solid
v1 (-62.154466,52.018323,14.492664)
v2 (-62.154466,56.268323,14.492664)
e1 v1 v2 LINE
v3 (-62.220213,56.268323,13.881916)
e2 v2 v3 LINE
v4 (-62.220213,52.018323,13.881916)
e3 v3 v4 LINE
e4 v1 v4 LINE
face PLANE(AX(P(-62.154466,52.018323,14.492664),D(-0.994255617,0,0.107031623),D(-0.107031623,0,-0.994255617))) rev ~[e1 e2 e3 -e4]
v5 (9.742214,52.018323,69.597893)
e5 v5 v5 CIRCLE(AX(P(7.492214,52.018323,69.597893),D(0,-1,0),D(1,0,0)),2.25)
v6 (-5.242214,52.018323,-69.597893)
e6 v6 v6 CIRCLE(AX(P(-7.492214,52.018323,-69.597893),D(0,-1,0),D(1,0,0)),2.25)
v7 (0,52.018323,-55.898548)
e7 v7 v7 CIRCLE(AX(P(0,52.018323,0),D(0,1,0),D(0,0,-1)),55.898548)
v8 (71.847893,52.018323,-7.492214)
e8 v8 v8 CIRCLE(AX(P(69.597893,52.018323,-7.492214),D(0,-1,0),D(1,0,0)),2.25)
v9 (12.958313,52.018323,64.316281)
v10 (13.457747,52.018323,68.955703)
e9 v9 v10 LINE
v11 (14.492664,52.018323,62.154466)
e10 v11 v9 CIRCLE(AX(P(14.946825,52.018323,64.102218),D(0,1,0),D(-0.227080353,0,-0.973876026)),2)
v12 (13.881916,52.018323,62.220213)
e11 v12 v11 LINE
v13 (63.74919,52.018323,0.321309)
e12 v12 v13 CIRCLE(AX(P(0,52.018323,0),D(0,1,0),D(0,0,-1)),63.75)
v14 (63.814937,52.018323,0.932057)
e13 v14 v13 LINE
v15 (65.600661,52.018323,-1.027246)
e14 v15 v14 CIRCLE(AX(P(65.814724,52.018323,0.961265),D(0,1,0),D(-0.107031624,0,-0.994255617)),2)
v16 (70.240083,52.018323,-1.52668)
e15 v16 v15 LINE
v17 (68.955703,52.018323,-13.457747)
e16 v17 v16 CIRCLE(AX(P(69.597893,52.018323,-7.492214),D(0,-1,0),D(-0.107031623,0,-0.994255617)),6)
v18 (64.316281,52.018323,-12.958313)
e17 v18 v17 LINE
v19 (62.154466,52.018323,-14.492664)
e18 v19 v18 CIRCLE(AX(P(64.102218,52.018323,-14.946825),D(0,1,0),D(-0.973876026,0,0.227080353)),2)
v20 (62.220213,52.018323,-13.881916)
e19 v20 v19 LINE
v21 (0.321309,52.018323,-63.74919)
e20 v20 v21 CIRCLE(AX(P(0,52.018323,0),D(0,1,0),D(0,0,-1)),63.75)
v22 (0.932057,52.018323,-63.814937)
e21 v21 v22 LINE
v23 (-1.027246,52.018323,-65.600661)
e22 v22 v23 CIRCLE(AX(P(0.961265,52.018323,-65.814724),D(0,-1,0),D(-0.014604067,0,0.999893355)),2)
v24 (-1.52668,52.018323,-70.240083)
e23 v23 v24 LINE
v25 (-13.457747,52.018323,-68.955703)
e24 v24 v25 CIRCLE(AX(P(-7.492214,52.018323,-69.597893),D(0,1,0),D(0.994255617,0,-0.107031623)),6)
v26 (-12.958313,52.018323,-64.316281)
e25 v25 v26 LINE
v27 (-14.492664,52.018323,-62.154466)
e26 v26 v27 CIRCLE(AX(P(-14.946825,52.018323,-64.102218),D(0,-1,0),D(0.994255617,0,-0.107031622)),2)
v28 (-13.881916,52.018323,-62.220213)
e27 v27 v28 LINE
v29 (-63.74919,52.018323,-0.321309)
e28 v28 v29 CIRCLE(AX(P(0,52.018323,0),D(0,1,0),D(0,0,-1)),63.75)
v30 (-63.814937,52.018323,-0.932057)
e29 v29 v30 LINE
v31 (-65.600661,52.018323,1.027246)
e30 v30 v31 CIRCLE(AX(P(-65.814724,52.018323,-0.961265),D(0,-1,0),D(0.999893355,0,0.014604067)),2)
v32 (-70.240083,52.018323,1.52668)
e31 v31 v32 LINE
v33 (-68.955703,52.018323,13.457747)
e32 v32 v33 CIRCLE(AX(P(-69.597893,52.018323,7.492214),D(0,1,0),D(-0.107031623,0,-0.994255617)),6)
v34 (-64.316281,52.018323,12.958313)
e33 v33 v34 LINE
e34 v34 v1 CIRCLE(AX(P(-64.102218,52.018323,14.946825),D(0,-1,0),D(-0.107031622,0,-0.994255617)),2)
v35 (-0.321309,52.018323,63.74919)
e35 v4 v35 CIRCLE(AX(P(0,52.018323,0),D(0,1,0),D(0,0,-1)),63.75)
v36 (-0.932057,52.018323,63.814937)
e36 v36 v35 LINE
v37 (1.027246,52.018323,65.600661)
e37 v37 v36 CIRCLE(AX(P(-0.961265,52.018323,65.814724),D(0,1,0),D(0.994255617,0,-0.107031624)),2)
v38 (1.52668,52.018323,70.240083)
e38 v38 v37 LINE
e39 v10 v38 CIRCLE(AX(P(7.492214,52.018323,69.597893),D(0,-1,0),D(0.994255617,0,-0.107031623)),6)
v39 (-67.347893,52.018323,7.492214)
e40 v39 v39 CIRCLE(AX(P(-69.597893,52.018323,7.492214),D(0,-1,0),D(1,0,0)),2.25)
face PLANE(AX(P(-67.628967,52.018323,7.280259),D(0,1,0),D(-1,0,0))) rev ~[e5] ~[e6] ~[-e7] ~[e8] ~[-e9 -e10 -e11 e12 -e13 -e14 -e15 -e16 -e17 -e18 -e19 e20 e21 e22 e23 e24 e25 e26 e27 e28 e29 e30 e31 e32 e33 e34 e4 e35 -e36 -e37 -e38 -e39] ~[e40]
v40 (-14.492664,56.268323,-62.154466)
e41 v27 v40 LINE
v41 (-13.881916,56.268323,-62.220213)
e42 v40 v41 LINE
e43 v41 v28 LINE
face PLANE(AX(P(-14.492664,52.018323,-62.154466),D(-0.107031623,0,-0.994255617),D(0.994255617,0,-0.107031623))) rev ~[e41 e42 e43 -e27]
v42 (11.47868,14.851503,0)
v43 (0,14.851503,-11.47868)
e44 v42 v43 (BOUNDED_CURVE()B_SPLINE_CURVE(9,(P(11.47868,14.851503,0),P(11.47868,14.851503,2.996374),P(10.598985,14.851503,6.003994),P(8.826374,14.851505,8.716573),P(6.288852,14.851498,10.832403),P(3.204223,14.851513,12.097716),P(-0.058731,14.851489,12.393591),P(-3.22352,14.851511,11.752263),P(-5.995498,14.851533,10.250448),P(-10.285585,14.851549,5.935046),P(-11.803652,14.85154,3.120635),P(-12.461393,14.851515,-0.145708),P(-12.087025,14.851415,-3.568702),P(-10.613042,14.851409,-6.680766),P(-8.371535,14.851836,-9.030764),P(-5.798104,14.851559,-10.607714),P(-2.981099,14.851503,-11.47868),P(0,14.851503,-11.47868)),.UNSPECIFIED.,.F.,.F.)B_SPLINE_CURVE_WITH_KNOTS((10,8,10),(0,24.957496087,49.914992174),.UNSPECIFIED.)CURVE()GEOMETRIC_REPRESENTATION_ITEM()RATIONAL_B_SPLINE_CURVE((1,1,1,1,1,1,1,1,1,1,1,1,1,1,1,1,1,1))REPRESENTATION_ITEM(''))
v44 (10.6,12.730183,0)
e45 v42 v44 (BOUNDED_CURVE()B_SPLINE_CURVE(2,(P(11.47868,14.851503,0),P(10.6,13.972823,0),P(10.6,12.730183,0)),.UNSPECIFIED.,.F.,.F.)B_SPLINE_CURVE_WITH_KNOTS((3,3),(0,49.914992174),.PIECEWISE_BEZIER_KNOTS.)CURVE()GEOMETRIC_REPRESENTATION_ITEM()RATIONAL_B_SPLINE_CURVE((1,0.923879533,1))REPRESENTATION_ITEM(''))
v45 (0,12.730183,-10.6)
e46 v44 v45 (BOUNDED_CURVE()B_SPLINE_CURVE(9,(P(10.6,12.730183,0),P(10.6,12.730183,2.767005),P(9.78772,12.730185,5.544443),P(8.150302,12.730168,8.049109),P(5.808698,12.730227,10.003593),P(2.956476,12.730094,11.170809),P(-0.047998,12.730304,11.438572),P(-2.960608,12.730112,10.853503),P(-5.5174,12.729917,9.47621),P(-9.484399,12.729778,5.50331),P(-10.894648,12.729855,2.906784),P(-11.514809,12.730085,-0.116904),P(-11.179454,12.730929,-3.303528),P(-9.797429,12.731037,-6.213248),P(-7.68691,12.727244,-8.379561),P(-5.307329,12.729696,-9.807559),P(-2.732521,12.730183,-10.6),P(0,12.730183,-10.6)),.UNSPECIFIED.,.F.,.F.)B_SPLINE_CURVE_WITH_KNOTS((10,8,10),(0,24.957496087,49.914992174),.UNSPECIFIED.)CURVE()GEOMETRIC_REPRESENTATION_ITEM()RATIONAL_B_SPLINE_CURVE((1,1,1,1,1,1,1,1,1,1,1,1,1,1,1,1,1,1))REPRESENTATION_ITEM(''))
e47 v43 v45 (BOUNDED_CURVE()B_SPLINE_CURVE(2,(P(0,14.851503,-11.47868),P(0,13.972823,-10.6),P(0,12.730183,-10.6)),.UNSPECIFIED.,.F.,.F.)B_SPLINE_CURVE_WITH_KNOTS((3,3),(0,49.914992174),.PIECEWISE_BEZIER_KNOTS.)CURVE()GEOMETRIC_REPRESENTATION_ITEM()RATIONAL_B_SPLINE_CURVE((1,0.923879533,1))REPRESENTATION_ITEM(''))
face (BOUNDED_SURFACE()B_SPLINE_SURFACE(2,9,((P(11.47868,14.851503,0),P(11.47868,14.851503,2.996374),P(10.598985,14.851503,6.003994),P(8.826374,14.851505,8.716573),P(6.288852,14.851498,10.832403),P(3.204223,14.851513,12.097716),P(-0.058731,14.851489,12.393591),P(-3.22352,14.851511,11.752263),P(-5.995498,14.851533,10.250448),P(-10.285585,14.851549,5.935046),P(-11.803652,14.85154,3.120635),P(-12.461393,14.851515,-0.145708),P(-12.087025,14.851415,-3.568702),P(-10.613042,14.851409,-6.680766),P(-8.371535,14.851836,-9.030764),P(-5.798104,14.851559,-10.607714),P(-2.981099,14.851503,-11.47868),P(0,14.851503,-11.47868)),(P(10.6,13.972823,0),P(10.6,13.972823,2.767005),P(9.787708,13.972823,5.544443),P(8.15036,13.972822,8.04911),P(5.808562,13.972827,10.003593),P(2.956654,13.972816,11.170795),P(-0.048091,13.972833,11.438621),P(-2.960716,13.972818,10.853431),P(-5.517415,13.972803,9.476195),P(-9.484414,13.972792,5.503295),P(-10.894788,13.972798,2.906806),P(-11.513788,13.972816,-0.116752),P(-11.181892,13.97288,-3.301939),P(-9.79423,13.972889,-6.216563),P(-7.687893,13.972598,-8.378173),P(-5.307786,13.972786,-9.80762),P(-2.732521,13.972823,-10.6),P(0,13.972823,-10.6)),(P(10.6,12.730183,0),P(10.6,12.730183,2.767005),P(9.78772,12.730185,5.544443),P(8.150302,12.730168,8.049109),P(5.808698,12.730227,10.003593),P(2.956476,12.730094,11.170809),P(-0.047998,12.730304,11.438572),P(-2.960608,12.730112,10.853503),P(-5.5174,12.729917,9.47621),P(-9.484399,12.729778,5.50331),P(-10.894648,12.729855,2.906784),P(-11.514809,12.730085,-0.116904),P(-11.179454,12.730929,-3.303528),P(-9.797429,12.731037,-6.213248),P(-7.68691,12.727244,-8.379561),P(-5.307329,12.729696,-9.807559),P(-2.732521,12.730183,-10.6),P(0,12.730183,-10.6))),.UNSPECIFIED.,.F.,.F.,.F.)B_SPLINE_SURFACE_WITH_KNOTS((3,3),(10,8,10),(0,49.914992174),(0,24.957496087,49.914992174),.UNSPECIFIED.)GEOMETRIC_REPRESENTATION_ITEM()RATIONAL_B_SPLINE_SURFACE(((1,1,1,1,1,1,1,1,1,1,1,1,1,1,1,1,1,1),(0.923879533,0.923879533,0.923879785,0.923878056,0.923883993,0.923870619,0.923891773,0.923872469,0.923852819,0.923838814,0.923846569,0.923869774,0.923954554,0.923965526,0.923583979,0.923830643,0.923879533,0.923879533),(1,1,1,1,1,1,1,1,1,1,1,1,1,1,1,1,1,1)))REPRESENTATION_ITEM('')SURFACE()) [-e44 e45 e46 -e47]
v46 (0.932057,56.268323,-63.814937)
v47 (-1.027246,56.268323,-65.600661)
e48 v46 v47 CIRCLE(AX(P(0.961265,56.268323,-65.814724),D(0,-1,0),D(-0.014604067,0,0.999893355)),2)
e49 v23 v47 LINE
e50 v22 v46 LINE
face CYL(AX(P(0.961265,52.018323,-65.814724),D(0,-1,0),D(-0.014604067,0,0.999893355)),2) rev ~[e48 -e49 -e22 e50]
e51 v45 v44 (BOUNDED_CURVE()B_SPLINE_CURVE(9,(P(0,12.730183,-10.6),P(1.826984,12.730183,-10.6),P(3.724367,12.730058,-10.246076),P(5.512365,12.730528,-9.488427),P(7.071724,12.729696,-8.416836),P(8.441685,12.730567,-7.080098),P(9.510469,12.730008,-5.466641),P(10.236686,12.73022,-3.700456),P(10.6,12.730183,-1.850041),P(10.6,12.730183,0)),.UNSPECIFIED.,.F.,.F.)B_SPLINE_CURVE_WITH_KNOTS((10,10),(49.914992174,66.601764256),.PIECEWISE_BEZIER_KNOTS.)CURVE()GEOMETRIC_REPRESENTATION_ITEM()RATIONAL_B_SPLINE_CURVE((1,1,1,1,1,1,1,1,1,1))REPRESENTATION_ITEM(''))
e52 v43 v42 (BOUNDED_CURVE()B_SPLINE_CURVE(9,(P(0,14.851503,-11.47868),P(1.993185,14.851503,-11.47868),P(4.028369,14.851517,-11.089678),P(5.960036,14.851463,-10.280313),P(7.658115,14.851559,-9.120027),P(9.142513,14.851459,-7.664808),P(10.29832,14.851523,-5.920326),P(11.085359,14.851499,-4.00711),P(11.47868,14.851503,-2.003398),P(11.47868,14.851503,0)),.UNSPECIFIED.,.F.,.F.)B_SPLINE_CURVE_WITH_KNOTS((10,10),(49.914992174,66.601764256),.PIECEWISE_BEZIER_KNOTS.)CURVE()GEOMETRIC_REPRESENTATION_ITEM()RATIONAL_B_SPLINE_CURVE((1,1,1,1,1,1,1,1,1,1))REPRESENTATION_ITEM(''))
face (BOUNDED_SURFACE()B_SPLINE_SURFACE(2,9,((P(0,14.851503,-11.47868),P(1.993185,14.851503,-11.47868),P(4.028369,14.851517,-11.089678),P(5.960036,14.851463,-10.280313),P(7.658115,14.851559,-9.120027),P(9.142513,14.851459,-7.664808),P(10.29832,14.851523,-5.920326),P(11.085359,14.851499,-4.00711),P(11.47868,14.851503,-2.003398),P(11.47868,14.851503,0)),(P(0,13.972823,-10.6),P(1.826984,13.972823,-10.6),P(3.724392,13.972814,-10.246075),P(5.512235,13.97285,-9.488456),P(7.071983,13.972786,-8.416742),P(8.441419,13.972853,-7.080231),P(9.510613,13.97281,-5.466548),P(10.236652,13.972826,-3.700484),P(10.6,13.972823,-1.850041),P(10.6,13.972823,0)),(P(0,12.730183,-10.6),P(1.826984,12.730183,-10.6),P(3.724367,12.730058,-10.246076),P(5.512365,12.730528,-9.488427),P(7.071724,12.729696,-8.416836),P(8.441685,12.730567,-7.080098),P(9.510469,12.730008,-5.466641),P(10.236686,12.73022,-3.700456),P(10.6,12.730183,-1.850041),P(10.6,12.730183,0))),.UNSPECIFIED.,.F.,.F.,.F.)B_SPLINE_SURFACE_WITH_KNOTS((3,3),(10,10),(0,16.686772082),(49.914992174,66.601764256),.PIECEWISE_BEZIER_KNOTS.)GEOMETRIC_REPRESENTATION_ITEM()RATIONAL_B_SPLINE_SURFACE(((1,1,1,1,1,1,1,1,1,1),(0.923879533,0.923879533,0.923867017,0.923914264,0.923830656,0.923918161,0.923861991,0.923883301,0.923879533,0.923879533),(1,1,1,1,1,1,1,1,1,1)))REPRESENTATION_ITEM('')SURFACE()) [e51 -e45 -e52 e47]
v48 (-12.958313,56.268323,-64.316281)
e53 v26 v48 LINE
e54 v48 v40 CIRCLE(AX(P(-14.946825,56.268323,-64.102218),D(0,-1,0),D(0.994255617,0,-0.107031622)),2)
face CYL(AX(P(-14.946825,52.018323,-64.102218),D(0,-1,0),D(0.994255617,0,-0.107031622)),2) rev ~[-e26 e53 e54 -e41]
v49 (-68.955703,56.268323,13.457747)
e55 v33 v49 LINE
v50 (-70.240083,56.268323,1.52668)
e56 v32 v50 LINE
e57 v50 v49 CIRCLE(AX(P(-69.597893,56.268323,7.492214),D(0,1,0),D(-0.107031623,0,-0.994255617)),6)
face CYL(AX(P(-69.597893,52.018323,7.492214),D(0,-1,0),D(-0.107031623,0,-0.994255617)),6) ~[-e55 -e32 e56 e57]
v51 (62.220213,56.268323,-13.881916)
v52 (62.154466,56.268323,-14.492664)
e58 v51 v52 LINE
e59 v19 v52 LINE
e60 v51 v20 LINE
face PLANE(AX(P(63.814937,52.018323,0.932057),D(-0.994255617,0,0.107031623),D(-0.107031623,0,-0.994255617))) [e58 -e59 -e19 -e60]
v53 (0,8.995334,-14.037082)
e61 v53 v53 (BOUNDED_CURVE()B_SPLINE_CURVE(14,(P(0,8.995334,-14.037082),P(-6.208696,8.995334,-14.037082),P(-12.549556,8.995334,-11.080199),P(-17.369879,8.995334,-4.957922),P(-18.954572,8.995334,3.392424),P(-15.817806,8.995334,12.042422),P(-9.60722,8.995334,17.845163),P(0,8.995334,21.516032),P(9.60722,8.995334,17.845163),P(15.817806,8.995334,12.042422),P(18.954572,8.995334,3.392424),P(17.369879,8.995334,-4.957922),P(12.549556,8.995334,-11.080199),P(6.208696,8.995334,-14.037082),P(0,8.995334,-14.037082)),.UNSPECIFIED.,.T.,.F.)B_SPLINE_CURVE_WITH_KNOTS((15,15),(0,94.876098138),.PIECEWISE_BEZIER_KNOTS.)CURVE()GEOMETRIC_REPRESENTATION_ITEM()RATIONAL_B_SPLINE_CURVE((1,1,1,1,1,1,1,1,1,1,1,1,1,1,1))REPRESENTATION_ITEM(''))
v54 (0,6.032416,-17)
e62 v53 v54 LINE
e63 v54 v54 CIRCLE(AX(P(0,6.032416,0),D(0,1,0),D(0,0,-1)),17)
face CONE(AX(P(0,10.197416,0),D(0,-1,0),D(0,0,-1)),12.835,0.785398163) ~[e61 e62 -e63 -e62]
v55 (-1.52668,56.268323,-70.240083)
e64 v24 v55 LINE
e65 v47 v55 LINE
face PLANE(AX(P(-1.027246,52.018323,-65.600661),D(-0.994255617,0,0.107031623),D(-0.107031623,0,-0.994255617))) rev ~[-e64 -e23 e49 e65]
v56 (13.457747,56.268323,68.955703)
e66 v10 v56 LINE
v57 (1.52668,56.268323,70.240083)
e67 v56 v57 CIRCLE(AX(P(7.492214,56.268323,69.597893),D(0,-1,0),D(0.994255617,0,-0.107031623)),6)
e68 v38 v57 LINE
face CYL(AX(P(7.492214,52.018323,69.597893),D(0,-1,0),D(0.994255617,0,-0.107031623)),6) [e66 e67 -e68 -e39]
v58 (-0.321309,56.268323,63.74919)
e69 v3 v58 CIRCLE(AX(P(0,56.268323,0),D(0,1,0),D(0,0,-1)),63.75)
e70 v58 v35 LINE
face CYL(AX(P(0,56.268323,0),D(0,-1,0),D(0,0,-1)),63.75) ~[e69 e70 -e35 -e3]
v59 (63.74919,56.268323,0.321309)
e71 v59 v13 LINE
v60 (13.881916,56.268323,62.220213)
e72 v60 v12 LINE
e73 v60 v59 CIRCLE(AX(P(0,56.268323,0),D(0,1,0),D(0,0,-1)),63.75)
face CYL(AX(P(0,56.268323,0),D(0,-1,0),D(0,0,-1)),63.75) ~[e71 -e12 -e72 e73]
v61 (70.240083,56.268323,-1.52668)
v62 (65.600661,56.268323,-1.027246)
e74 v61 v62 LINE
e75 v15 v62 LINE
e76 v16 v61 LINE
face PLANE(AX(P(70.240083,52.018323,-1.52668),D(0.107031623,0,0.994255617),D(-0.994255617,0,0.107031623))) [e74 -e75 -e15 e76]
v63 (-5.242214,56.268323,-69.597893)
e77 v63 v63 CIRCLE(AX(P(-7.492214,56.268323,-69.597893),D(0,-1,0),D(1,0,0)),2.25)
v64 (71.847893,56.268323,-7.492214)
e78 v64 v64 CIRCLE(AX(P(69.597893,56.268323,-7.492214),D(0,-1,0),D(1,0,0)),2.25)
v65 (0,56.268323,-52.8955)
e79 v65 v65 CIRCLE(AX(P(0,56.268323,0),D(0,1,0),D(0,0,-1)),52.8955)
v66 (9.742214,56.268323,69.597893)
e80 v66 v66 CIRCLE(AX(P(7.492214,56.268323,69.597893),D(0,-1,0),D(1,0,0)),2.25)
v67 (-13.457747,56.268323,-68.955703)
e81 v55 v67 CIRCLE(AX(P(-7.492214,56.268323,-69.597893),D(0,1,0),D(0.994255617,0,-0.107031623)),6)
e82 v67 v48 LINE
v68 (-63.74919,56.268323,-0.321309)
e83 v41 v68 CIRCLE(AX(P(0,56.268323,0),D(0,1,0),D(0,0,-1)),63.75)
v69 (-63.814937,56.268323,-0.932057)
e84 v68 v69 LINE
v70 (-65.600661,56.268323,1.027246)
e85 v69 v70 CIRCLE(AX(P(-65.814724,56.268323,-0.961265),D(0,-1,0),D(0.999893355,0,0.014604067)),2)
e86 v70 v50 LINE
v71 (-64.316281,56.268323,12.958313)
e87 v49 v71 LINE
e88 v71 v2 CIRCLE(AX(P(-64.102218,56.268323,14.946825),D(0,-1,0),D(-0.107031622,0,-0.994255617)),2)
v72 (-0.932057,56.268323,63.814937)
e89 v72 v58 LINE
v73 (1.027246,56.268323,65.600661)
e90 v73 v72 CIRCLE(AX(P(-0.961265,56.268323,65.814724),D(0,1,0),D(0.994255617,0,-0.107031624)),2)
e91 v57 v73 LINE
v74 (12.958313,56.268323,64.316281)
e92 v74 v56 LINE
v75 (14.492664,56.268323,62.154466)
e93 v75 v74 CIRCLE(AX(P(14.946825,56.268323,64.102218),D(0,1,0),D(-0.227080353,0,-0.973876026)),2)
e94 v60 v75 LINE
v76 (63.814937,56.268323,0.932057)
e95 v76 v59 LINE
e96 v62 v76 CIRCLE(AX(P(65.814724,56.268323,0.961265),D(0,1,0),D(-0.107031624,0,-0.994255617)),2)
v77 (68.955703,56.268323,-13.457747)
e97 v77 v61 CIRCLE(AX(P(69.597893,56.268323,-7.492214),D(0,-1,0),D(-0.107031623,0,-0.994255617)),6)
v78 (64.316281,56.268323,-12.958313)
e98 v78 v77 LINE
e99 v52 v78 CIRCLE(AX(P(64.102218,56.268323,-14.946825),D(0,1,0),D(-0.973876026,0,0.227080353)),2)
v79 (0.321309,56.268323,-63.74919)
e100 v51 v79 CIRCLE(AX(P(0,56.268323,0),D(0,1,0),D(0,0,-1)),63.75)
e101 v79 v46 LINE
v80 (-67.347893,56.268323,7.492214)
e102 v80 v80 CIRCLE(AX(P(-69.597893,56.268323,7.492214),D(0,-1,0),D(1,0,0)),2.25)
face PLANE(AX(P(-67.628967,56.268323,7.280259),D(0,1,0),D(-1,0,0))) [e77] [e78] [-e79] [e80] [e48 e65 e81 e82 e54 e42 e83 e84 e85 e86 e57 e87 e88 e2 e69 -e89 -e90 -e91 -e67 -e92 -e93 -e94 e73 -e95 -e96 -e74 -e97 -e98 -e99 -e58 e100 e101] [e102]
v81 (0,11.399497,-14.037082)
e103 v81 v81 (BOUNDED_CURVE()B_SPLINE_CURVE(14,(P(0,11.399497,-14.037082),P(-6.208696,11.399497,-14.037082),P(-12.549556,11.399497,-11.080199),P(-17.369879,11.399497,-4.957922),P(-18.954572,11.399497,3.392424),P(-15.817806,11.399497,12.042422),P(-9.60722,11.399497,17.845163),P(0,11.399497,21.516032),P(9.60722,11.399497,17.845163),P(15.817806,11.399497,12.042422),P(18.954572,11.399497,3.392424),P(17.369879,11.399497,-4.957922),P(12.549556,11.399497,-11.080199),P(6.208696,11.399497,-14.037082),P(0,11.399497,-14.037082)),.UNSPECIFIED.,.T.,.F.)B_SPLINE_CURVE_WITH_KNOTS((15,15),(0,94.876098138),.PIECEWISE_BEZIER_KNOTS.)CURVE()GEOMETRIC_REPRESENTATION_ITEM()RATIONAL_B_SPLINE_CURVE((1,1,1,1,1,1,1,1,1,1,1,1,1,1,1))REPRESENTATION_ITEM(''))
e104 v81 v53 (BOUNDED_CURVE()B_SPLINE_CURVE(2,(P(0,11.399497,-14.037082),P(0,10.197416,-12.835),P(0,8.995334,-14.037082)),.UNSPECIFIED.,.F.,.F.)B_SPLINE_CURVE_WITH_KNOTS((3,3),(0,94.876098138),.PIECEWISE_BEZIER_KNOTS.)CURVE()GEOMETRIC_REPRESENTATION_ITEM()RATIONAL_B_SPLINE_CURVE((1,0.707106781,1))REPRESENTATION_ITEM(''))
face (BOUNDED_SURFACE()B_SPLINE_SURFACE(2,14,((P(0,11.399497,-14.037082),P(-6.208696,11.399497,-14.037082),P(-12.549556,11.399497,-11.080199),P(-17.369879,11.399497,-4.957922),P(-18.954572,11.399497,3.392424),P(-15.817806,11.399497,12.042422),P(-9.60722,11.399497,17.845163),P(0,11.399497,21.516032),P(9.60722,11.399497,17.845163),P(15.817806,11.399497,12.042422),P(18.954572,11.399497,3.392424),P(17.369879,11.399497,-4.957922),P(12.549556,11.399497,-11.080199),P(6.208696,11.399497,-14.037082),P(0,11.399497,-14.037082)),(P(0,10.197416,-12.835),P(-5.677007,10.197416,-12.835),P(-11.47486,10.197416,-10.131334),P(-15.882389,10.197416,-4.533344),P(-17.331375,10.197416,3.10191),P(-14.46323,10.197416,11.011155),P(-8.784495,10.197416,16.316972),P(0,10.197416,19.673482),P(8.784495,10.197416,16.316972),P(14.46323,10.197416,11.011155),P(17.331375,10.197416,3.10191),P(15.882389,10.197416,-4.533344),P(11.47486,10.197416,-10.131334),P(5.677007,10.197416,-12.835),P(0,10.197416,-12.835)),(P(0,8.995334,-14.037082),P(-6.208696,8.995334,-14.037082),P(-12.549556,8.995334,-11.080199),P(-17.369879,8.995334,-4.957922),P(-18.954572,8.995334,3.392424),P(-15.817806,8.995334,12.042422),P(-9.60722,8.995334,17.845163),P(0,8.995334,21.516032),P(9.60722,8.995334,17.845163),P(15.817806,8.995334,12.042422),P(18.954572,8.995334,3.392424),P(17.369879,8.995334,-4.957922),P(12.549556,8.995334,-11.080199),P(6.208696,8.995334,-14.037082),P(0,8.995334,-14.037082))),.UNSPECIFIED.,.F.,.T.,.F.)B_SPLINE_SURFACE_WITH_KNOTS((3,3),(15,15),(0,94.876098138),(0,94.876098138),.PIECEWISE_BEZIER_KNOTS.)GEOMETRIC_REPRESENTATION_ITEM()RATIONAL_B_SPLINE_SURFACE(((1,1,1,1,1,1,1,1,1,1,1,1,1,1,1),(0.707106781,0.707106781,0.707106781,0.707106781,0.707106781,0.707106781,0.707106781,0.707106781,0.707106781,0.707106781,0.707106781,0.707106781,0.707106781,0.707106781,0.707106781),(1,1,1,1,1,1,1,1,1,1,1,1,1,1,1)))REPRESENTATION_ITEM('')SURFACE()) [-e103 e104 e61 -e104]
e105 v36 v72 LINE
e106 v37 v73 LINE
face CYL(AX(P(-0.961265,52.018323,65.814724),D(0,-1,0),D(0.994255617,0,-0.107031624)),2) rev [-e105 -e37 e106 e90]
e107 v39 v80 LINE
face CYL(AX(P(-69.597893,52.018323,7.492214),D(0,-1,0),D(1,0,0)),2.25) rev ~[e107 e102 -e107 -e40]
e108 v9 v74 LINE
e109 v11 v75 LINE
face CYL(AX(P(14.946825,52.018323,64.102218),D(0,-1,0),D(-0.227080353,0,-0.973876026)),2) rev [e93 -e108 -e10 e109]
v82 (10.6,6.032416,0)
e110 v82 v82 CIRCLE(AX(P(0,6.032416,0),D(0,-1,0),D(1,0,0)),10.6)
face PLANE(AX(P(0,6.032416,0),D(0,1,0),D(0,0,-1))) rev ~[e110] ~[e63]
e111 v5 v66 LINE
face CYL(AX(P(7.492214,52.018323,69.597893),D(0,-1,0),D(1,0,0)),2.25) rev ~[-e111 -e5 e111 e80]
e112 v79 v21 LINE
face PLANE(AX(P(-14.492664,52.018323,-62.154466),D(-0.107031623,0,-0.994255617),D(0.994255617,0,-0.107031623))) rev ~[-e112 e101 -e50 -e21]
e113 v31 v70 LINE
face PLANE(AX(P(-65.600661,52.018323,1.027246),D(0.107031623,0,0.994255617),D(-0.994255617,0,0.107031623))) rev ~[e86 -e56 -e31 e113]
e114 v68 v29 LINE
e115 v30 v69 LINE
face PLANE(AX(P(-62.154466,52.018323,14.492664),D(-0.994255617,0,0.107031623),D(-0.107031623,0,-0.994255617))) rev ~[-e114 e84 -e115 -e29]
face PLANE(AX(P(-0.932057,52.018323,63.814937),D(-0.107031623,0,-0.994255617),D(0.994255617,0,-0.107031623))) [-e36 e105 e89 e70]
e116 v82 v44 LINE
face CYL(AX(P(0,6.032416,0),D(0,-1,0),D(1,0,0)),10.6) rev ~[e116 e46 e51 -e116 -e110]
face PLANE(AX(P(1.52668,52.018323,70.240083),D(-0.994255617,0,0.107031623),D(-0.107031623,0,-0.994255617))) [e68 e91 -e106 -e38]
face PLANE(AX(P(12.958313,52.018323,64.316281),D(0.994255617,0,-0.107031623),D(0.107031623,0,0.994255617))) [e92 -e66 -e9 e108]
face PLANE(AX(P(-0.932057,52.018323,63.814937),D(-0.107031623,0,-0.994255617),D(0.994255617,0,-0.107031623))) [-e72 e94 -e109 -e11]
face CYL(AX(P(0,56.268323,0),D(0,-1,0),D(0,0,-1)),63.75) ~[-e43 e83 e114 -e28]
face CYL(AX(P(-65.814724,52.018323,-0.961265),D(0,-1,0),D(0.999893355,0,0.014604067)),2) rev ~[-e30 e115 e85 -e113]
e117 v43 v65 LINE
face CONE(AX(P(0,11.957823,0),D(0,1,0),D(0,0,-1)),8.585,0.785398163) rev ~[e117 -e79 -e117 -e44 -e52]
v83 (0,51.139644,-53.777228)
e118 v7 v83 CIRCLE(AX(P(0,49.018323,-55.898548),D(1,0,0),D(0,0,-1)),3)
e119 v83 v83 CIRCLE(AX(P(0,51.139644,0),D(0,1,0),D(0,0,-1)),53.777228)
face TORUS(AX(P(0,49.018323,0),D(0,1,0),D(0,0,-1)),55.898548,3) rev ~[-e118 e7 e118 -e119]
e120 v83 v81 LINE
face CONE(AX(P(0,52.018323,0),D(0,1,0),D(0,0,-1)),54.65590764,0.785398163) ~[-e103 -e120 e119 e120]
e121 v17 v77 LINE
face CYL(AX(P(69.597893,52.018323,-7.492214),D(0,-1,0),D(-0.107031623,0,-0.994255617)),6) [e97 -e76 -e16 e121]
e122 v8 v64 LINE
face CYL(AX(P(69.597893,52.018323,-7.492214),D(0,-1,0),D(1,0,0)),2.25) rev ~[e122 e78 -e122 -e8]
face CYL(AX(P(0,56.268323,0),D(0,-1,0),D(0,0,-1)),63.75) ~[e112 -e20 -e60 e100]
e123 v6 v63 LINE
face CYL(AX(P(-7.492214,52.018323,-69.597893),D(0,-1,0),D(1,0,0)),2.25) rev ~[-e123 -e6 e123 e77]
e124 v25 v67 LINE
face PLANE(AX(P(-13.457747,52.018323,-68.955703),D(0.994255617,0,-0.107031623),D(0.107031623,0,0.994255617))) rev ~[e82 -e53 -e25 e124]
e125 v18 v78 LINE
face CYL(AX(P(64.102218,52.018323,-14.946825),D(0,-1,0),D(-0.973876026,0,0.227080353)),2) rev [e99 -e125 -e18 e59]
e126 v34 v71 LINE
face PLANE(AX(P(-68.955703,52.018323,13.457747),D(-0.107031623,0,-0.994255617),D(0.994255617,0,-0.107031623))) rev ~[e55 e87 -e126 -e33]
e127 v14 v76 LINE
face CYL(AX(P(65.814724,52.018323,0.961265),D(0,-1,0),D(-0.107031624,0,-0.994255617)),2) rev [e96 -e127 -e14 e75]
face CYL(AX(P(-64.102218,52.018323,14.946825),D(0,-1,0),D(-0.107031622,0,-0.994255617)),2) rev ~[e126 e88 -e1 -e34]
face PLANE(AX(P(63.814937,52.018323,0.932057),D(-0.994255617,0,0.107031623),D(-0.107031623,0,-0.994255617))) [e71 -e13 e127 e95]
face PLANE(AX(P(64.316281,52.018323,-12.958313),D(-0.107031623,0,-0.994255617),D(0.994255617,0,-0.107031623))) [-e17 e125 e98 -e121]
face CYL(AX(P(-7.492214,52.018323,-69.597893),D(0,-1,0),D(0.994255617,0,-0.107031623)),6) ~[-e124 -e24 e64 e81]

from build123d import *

# Parameters (mm, degrees)
FILLET1_R           = 2
FILLET2_R           = 6
SCALE1_SCALE        = 0.85
SKETCH4_R           = 10.6
CUT_EXTRUDE2_DEPTH  = 51.23590774
SKETCH9_R           = 2.25
BOSS_EXTRUDE1_DEPTH = 4.25
FILLET4_R           = 3


with BuildPart() as part:
    # Sketch2 → Revolve1 (revolve)
    with BuildSketch(Plane(origin=(0, 0, 0), x_dir=(0, 0, -1), z_dir=(1, 0, 0))):
        Polygon((10.1, 0), (10.1, 6.971067812), (62.23, 59.101067812), (75, 59.101067812), (75, 54.101067812), (64.301067812, 54.101067812), (15.1, 4.9), (20, 0), align=None)
    revolve(axis=Axis((0, 0, 0), (0, 1, 0)))

    # Fillet1
    fillet1_edges = [part.edges().sort_by_distance(p)[0] for p in [
        (0, 4.9, 15.1),
    ]]
    fillet(fillet1_edges, radius=FILLET1_R)

    # Fillet2
    fillet2_edges = [part.edges().sort_by_distance(p)[0] for p in [
        (0, 6.971067812, 10.1),
    ]]
    fillet(fillet2_edges, radius=FILLET2_R)


with BuildPart() as part_1:
    # Scale1: scaled about (0, 40.216103787, 0)
    add(part.part.scale(SCALE1_SCALE).moved(Location((0, 6.032415568, 0))))

    # Sketch4 → Cut-Extrude2 (cut, through all)
    with BuildSketch(Plane.XZ.offset(-6.032415568)):
        Circle(SKETCH4_R)
    extrude(amount=-CUT_EXTRUDE2_DEPTH, mode=Mode.SUBTRACT)

    # Sketch9 → Boss-Extrude1 (add)
    with BuildSketch(Plane.XZ.offset(-52.018323208)):
        with BuildLine():
            Line((-62.154465971, 14.492663996), (-63.814937276, -0.932057036))
            ThreePointArc((-63.814937276, -0.932057036), (-64.336549414, 0.385954164), (-65.60066074, 1.027246064))
            Line((-65.60066074, 1.027246064), (-70.240082919, 1.526679887))
            ThreePointArc((-70.240082919, 1.526679887), (-75.563426885, 8.134403325), (-68.955703447, 13.45774729))
            Line((-68.955703447, 13.45774729), (-64.316281268, 12.958313466))
            ThreePointArc((-64.316281268, 12.958313466), (-62.944644221, 13.315867039), (-62.154465971, 14.492663996))
        make_face()
        with Locations((-69.597893183, 7.492213588)):
            Circle(SKETCH9_R, mode=Mode.SUBTRACT)
        with BuildLine():
            Line((-0.932057036, 63.814937276), (14.492663996, 62.154465971))
            ThreePointArc((14.492663996, 62.154465971), (13.315867039, 62.944644221), (12.958313466, 64.316281268))
            Line((12.958313466, 64.316281268), (13.45774729, 68.955703447))
            ThreePointArc((13.45774729, 68.955703447), (8.134403325, 75.563426885), (1.526679887, 70.240082919))
            Line((1.526679887, 70.240082919), (1.027246064, 65.60066074))
            ThreePointArc((1.027246064, 65.60066074), (0.385954164, 64.336549414), (-0.932057036, 63.814937276))
        make_face()
        with Locations((7.492213588, 69.597893183)):
            Circle(SKETCH9_R, mode=Mode.SUBTRACT)
        with BuildLine():
            Line((63.814937276, 0.932057036), (62.154465971, -14.492663996))
            ThreePointArc((62.154465971, -14.492663996), (62.944644221, -13.315867039), (64.316281268, -12.958313466))
            Line((64.316281268, -12.958313466), (68.955703447, -13.45774729))
            ThreePointArc((68.955703447, -13.45774729), (75.563426885, -8.134403325), (70.240082919, -1.526679887))
            Line((70.240082919, -1.526679887), (65.60066074, -1.027246064))
            ThreePointArc((65.60066074, -1.027246064), (64.336549414, -0.385954164), (63.814937276, 0.932057036))
        make_face()
        with Locations((69.597893183, -7.492213588)):
            Circle(SKETCH9_R, mode=Mode.SUBTRACT)
        with BuildLine():
            Line((-14.492663996, -62.154465971), (0.932057036, -63.814937276))
            ThreePointArc((0.932057036, -63.814937276), (-0.385954164, -64.336549414), (-1.027246064, -65.60066074))
            Line((-1.027246064, -65.60066074), (-1.526679887, -70.240082919))
            ThreePointArc((-1.526679887, -70.240082919), (-8.134403325, -75.563426885), (-13.45774729, -68.955703447))
            Line((-13.45774729, -68.955703447), (-12.958313466, -64.316281268))
            ThreePointArc((-12.958313466, -64.316281268), (-13.315867039, -62.944644221), (-14.492663996, -62.154465971))
        make_face()
        with Locations((-7.492213588, -69.597893183)):
            Circle(SKETCH9_R, mode=Mode.SUBTRACT)
    extrude(amount=-BOSS_EXTRUDE1_DEPTH)

    # Fillet4
    fillet4_edges = [part_1.edges().sort_by_distance(p)[0] for p in [
        (-7.495331881, 13.972823208, 7.495331881),
        (0, 52.018323208, 54.65590764),
    ]]
    fillet(fillet4_edges, radius=FILLET4_R)


solid = part_1.part
